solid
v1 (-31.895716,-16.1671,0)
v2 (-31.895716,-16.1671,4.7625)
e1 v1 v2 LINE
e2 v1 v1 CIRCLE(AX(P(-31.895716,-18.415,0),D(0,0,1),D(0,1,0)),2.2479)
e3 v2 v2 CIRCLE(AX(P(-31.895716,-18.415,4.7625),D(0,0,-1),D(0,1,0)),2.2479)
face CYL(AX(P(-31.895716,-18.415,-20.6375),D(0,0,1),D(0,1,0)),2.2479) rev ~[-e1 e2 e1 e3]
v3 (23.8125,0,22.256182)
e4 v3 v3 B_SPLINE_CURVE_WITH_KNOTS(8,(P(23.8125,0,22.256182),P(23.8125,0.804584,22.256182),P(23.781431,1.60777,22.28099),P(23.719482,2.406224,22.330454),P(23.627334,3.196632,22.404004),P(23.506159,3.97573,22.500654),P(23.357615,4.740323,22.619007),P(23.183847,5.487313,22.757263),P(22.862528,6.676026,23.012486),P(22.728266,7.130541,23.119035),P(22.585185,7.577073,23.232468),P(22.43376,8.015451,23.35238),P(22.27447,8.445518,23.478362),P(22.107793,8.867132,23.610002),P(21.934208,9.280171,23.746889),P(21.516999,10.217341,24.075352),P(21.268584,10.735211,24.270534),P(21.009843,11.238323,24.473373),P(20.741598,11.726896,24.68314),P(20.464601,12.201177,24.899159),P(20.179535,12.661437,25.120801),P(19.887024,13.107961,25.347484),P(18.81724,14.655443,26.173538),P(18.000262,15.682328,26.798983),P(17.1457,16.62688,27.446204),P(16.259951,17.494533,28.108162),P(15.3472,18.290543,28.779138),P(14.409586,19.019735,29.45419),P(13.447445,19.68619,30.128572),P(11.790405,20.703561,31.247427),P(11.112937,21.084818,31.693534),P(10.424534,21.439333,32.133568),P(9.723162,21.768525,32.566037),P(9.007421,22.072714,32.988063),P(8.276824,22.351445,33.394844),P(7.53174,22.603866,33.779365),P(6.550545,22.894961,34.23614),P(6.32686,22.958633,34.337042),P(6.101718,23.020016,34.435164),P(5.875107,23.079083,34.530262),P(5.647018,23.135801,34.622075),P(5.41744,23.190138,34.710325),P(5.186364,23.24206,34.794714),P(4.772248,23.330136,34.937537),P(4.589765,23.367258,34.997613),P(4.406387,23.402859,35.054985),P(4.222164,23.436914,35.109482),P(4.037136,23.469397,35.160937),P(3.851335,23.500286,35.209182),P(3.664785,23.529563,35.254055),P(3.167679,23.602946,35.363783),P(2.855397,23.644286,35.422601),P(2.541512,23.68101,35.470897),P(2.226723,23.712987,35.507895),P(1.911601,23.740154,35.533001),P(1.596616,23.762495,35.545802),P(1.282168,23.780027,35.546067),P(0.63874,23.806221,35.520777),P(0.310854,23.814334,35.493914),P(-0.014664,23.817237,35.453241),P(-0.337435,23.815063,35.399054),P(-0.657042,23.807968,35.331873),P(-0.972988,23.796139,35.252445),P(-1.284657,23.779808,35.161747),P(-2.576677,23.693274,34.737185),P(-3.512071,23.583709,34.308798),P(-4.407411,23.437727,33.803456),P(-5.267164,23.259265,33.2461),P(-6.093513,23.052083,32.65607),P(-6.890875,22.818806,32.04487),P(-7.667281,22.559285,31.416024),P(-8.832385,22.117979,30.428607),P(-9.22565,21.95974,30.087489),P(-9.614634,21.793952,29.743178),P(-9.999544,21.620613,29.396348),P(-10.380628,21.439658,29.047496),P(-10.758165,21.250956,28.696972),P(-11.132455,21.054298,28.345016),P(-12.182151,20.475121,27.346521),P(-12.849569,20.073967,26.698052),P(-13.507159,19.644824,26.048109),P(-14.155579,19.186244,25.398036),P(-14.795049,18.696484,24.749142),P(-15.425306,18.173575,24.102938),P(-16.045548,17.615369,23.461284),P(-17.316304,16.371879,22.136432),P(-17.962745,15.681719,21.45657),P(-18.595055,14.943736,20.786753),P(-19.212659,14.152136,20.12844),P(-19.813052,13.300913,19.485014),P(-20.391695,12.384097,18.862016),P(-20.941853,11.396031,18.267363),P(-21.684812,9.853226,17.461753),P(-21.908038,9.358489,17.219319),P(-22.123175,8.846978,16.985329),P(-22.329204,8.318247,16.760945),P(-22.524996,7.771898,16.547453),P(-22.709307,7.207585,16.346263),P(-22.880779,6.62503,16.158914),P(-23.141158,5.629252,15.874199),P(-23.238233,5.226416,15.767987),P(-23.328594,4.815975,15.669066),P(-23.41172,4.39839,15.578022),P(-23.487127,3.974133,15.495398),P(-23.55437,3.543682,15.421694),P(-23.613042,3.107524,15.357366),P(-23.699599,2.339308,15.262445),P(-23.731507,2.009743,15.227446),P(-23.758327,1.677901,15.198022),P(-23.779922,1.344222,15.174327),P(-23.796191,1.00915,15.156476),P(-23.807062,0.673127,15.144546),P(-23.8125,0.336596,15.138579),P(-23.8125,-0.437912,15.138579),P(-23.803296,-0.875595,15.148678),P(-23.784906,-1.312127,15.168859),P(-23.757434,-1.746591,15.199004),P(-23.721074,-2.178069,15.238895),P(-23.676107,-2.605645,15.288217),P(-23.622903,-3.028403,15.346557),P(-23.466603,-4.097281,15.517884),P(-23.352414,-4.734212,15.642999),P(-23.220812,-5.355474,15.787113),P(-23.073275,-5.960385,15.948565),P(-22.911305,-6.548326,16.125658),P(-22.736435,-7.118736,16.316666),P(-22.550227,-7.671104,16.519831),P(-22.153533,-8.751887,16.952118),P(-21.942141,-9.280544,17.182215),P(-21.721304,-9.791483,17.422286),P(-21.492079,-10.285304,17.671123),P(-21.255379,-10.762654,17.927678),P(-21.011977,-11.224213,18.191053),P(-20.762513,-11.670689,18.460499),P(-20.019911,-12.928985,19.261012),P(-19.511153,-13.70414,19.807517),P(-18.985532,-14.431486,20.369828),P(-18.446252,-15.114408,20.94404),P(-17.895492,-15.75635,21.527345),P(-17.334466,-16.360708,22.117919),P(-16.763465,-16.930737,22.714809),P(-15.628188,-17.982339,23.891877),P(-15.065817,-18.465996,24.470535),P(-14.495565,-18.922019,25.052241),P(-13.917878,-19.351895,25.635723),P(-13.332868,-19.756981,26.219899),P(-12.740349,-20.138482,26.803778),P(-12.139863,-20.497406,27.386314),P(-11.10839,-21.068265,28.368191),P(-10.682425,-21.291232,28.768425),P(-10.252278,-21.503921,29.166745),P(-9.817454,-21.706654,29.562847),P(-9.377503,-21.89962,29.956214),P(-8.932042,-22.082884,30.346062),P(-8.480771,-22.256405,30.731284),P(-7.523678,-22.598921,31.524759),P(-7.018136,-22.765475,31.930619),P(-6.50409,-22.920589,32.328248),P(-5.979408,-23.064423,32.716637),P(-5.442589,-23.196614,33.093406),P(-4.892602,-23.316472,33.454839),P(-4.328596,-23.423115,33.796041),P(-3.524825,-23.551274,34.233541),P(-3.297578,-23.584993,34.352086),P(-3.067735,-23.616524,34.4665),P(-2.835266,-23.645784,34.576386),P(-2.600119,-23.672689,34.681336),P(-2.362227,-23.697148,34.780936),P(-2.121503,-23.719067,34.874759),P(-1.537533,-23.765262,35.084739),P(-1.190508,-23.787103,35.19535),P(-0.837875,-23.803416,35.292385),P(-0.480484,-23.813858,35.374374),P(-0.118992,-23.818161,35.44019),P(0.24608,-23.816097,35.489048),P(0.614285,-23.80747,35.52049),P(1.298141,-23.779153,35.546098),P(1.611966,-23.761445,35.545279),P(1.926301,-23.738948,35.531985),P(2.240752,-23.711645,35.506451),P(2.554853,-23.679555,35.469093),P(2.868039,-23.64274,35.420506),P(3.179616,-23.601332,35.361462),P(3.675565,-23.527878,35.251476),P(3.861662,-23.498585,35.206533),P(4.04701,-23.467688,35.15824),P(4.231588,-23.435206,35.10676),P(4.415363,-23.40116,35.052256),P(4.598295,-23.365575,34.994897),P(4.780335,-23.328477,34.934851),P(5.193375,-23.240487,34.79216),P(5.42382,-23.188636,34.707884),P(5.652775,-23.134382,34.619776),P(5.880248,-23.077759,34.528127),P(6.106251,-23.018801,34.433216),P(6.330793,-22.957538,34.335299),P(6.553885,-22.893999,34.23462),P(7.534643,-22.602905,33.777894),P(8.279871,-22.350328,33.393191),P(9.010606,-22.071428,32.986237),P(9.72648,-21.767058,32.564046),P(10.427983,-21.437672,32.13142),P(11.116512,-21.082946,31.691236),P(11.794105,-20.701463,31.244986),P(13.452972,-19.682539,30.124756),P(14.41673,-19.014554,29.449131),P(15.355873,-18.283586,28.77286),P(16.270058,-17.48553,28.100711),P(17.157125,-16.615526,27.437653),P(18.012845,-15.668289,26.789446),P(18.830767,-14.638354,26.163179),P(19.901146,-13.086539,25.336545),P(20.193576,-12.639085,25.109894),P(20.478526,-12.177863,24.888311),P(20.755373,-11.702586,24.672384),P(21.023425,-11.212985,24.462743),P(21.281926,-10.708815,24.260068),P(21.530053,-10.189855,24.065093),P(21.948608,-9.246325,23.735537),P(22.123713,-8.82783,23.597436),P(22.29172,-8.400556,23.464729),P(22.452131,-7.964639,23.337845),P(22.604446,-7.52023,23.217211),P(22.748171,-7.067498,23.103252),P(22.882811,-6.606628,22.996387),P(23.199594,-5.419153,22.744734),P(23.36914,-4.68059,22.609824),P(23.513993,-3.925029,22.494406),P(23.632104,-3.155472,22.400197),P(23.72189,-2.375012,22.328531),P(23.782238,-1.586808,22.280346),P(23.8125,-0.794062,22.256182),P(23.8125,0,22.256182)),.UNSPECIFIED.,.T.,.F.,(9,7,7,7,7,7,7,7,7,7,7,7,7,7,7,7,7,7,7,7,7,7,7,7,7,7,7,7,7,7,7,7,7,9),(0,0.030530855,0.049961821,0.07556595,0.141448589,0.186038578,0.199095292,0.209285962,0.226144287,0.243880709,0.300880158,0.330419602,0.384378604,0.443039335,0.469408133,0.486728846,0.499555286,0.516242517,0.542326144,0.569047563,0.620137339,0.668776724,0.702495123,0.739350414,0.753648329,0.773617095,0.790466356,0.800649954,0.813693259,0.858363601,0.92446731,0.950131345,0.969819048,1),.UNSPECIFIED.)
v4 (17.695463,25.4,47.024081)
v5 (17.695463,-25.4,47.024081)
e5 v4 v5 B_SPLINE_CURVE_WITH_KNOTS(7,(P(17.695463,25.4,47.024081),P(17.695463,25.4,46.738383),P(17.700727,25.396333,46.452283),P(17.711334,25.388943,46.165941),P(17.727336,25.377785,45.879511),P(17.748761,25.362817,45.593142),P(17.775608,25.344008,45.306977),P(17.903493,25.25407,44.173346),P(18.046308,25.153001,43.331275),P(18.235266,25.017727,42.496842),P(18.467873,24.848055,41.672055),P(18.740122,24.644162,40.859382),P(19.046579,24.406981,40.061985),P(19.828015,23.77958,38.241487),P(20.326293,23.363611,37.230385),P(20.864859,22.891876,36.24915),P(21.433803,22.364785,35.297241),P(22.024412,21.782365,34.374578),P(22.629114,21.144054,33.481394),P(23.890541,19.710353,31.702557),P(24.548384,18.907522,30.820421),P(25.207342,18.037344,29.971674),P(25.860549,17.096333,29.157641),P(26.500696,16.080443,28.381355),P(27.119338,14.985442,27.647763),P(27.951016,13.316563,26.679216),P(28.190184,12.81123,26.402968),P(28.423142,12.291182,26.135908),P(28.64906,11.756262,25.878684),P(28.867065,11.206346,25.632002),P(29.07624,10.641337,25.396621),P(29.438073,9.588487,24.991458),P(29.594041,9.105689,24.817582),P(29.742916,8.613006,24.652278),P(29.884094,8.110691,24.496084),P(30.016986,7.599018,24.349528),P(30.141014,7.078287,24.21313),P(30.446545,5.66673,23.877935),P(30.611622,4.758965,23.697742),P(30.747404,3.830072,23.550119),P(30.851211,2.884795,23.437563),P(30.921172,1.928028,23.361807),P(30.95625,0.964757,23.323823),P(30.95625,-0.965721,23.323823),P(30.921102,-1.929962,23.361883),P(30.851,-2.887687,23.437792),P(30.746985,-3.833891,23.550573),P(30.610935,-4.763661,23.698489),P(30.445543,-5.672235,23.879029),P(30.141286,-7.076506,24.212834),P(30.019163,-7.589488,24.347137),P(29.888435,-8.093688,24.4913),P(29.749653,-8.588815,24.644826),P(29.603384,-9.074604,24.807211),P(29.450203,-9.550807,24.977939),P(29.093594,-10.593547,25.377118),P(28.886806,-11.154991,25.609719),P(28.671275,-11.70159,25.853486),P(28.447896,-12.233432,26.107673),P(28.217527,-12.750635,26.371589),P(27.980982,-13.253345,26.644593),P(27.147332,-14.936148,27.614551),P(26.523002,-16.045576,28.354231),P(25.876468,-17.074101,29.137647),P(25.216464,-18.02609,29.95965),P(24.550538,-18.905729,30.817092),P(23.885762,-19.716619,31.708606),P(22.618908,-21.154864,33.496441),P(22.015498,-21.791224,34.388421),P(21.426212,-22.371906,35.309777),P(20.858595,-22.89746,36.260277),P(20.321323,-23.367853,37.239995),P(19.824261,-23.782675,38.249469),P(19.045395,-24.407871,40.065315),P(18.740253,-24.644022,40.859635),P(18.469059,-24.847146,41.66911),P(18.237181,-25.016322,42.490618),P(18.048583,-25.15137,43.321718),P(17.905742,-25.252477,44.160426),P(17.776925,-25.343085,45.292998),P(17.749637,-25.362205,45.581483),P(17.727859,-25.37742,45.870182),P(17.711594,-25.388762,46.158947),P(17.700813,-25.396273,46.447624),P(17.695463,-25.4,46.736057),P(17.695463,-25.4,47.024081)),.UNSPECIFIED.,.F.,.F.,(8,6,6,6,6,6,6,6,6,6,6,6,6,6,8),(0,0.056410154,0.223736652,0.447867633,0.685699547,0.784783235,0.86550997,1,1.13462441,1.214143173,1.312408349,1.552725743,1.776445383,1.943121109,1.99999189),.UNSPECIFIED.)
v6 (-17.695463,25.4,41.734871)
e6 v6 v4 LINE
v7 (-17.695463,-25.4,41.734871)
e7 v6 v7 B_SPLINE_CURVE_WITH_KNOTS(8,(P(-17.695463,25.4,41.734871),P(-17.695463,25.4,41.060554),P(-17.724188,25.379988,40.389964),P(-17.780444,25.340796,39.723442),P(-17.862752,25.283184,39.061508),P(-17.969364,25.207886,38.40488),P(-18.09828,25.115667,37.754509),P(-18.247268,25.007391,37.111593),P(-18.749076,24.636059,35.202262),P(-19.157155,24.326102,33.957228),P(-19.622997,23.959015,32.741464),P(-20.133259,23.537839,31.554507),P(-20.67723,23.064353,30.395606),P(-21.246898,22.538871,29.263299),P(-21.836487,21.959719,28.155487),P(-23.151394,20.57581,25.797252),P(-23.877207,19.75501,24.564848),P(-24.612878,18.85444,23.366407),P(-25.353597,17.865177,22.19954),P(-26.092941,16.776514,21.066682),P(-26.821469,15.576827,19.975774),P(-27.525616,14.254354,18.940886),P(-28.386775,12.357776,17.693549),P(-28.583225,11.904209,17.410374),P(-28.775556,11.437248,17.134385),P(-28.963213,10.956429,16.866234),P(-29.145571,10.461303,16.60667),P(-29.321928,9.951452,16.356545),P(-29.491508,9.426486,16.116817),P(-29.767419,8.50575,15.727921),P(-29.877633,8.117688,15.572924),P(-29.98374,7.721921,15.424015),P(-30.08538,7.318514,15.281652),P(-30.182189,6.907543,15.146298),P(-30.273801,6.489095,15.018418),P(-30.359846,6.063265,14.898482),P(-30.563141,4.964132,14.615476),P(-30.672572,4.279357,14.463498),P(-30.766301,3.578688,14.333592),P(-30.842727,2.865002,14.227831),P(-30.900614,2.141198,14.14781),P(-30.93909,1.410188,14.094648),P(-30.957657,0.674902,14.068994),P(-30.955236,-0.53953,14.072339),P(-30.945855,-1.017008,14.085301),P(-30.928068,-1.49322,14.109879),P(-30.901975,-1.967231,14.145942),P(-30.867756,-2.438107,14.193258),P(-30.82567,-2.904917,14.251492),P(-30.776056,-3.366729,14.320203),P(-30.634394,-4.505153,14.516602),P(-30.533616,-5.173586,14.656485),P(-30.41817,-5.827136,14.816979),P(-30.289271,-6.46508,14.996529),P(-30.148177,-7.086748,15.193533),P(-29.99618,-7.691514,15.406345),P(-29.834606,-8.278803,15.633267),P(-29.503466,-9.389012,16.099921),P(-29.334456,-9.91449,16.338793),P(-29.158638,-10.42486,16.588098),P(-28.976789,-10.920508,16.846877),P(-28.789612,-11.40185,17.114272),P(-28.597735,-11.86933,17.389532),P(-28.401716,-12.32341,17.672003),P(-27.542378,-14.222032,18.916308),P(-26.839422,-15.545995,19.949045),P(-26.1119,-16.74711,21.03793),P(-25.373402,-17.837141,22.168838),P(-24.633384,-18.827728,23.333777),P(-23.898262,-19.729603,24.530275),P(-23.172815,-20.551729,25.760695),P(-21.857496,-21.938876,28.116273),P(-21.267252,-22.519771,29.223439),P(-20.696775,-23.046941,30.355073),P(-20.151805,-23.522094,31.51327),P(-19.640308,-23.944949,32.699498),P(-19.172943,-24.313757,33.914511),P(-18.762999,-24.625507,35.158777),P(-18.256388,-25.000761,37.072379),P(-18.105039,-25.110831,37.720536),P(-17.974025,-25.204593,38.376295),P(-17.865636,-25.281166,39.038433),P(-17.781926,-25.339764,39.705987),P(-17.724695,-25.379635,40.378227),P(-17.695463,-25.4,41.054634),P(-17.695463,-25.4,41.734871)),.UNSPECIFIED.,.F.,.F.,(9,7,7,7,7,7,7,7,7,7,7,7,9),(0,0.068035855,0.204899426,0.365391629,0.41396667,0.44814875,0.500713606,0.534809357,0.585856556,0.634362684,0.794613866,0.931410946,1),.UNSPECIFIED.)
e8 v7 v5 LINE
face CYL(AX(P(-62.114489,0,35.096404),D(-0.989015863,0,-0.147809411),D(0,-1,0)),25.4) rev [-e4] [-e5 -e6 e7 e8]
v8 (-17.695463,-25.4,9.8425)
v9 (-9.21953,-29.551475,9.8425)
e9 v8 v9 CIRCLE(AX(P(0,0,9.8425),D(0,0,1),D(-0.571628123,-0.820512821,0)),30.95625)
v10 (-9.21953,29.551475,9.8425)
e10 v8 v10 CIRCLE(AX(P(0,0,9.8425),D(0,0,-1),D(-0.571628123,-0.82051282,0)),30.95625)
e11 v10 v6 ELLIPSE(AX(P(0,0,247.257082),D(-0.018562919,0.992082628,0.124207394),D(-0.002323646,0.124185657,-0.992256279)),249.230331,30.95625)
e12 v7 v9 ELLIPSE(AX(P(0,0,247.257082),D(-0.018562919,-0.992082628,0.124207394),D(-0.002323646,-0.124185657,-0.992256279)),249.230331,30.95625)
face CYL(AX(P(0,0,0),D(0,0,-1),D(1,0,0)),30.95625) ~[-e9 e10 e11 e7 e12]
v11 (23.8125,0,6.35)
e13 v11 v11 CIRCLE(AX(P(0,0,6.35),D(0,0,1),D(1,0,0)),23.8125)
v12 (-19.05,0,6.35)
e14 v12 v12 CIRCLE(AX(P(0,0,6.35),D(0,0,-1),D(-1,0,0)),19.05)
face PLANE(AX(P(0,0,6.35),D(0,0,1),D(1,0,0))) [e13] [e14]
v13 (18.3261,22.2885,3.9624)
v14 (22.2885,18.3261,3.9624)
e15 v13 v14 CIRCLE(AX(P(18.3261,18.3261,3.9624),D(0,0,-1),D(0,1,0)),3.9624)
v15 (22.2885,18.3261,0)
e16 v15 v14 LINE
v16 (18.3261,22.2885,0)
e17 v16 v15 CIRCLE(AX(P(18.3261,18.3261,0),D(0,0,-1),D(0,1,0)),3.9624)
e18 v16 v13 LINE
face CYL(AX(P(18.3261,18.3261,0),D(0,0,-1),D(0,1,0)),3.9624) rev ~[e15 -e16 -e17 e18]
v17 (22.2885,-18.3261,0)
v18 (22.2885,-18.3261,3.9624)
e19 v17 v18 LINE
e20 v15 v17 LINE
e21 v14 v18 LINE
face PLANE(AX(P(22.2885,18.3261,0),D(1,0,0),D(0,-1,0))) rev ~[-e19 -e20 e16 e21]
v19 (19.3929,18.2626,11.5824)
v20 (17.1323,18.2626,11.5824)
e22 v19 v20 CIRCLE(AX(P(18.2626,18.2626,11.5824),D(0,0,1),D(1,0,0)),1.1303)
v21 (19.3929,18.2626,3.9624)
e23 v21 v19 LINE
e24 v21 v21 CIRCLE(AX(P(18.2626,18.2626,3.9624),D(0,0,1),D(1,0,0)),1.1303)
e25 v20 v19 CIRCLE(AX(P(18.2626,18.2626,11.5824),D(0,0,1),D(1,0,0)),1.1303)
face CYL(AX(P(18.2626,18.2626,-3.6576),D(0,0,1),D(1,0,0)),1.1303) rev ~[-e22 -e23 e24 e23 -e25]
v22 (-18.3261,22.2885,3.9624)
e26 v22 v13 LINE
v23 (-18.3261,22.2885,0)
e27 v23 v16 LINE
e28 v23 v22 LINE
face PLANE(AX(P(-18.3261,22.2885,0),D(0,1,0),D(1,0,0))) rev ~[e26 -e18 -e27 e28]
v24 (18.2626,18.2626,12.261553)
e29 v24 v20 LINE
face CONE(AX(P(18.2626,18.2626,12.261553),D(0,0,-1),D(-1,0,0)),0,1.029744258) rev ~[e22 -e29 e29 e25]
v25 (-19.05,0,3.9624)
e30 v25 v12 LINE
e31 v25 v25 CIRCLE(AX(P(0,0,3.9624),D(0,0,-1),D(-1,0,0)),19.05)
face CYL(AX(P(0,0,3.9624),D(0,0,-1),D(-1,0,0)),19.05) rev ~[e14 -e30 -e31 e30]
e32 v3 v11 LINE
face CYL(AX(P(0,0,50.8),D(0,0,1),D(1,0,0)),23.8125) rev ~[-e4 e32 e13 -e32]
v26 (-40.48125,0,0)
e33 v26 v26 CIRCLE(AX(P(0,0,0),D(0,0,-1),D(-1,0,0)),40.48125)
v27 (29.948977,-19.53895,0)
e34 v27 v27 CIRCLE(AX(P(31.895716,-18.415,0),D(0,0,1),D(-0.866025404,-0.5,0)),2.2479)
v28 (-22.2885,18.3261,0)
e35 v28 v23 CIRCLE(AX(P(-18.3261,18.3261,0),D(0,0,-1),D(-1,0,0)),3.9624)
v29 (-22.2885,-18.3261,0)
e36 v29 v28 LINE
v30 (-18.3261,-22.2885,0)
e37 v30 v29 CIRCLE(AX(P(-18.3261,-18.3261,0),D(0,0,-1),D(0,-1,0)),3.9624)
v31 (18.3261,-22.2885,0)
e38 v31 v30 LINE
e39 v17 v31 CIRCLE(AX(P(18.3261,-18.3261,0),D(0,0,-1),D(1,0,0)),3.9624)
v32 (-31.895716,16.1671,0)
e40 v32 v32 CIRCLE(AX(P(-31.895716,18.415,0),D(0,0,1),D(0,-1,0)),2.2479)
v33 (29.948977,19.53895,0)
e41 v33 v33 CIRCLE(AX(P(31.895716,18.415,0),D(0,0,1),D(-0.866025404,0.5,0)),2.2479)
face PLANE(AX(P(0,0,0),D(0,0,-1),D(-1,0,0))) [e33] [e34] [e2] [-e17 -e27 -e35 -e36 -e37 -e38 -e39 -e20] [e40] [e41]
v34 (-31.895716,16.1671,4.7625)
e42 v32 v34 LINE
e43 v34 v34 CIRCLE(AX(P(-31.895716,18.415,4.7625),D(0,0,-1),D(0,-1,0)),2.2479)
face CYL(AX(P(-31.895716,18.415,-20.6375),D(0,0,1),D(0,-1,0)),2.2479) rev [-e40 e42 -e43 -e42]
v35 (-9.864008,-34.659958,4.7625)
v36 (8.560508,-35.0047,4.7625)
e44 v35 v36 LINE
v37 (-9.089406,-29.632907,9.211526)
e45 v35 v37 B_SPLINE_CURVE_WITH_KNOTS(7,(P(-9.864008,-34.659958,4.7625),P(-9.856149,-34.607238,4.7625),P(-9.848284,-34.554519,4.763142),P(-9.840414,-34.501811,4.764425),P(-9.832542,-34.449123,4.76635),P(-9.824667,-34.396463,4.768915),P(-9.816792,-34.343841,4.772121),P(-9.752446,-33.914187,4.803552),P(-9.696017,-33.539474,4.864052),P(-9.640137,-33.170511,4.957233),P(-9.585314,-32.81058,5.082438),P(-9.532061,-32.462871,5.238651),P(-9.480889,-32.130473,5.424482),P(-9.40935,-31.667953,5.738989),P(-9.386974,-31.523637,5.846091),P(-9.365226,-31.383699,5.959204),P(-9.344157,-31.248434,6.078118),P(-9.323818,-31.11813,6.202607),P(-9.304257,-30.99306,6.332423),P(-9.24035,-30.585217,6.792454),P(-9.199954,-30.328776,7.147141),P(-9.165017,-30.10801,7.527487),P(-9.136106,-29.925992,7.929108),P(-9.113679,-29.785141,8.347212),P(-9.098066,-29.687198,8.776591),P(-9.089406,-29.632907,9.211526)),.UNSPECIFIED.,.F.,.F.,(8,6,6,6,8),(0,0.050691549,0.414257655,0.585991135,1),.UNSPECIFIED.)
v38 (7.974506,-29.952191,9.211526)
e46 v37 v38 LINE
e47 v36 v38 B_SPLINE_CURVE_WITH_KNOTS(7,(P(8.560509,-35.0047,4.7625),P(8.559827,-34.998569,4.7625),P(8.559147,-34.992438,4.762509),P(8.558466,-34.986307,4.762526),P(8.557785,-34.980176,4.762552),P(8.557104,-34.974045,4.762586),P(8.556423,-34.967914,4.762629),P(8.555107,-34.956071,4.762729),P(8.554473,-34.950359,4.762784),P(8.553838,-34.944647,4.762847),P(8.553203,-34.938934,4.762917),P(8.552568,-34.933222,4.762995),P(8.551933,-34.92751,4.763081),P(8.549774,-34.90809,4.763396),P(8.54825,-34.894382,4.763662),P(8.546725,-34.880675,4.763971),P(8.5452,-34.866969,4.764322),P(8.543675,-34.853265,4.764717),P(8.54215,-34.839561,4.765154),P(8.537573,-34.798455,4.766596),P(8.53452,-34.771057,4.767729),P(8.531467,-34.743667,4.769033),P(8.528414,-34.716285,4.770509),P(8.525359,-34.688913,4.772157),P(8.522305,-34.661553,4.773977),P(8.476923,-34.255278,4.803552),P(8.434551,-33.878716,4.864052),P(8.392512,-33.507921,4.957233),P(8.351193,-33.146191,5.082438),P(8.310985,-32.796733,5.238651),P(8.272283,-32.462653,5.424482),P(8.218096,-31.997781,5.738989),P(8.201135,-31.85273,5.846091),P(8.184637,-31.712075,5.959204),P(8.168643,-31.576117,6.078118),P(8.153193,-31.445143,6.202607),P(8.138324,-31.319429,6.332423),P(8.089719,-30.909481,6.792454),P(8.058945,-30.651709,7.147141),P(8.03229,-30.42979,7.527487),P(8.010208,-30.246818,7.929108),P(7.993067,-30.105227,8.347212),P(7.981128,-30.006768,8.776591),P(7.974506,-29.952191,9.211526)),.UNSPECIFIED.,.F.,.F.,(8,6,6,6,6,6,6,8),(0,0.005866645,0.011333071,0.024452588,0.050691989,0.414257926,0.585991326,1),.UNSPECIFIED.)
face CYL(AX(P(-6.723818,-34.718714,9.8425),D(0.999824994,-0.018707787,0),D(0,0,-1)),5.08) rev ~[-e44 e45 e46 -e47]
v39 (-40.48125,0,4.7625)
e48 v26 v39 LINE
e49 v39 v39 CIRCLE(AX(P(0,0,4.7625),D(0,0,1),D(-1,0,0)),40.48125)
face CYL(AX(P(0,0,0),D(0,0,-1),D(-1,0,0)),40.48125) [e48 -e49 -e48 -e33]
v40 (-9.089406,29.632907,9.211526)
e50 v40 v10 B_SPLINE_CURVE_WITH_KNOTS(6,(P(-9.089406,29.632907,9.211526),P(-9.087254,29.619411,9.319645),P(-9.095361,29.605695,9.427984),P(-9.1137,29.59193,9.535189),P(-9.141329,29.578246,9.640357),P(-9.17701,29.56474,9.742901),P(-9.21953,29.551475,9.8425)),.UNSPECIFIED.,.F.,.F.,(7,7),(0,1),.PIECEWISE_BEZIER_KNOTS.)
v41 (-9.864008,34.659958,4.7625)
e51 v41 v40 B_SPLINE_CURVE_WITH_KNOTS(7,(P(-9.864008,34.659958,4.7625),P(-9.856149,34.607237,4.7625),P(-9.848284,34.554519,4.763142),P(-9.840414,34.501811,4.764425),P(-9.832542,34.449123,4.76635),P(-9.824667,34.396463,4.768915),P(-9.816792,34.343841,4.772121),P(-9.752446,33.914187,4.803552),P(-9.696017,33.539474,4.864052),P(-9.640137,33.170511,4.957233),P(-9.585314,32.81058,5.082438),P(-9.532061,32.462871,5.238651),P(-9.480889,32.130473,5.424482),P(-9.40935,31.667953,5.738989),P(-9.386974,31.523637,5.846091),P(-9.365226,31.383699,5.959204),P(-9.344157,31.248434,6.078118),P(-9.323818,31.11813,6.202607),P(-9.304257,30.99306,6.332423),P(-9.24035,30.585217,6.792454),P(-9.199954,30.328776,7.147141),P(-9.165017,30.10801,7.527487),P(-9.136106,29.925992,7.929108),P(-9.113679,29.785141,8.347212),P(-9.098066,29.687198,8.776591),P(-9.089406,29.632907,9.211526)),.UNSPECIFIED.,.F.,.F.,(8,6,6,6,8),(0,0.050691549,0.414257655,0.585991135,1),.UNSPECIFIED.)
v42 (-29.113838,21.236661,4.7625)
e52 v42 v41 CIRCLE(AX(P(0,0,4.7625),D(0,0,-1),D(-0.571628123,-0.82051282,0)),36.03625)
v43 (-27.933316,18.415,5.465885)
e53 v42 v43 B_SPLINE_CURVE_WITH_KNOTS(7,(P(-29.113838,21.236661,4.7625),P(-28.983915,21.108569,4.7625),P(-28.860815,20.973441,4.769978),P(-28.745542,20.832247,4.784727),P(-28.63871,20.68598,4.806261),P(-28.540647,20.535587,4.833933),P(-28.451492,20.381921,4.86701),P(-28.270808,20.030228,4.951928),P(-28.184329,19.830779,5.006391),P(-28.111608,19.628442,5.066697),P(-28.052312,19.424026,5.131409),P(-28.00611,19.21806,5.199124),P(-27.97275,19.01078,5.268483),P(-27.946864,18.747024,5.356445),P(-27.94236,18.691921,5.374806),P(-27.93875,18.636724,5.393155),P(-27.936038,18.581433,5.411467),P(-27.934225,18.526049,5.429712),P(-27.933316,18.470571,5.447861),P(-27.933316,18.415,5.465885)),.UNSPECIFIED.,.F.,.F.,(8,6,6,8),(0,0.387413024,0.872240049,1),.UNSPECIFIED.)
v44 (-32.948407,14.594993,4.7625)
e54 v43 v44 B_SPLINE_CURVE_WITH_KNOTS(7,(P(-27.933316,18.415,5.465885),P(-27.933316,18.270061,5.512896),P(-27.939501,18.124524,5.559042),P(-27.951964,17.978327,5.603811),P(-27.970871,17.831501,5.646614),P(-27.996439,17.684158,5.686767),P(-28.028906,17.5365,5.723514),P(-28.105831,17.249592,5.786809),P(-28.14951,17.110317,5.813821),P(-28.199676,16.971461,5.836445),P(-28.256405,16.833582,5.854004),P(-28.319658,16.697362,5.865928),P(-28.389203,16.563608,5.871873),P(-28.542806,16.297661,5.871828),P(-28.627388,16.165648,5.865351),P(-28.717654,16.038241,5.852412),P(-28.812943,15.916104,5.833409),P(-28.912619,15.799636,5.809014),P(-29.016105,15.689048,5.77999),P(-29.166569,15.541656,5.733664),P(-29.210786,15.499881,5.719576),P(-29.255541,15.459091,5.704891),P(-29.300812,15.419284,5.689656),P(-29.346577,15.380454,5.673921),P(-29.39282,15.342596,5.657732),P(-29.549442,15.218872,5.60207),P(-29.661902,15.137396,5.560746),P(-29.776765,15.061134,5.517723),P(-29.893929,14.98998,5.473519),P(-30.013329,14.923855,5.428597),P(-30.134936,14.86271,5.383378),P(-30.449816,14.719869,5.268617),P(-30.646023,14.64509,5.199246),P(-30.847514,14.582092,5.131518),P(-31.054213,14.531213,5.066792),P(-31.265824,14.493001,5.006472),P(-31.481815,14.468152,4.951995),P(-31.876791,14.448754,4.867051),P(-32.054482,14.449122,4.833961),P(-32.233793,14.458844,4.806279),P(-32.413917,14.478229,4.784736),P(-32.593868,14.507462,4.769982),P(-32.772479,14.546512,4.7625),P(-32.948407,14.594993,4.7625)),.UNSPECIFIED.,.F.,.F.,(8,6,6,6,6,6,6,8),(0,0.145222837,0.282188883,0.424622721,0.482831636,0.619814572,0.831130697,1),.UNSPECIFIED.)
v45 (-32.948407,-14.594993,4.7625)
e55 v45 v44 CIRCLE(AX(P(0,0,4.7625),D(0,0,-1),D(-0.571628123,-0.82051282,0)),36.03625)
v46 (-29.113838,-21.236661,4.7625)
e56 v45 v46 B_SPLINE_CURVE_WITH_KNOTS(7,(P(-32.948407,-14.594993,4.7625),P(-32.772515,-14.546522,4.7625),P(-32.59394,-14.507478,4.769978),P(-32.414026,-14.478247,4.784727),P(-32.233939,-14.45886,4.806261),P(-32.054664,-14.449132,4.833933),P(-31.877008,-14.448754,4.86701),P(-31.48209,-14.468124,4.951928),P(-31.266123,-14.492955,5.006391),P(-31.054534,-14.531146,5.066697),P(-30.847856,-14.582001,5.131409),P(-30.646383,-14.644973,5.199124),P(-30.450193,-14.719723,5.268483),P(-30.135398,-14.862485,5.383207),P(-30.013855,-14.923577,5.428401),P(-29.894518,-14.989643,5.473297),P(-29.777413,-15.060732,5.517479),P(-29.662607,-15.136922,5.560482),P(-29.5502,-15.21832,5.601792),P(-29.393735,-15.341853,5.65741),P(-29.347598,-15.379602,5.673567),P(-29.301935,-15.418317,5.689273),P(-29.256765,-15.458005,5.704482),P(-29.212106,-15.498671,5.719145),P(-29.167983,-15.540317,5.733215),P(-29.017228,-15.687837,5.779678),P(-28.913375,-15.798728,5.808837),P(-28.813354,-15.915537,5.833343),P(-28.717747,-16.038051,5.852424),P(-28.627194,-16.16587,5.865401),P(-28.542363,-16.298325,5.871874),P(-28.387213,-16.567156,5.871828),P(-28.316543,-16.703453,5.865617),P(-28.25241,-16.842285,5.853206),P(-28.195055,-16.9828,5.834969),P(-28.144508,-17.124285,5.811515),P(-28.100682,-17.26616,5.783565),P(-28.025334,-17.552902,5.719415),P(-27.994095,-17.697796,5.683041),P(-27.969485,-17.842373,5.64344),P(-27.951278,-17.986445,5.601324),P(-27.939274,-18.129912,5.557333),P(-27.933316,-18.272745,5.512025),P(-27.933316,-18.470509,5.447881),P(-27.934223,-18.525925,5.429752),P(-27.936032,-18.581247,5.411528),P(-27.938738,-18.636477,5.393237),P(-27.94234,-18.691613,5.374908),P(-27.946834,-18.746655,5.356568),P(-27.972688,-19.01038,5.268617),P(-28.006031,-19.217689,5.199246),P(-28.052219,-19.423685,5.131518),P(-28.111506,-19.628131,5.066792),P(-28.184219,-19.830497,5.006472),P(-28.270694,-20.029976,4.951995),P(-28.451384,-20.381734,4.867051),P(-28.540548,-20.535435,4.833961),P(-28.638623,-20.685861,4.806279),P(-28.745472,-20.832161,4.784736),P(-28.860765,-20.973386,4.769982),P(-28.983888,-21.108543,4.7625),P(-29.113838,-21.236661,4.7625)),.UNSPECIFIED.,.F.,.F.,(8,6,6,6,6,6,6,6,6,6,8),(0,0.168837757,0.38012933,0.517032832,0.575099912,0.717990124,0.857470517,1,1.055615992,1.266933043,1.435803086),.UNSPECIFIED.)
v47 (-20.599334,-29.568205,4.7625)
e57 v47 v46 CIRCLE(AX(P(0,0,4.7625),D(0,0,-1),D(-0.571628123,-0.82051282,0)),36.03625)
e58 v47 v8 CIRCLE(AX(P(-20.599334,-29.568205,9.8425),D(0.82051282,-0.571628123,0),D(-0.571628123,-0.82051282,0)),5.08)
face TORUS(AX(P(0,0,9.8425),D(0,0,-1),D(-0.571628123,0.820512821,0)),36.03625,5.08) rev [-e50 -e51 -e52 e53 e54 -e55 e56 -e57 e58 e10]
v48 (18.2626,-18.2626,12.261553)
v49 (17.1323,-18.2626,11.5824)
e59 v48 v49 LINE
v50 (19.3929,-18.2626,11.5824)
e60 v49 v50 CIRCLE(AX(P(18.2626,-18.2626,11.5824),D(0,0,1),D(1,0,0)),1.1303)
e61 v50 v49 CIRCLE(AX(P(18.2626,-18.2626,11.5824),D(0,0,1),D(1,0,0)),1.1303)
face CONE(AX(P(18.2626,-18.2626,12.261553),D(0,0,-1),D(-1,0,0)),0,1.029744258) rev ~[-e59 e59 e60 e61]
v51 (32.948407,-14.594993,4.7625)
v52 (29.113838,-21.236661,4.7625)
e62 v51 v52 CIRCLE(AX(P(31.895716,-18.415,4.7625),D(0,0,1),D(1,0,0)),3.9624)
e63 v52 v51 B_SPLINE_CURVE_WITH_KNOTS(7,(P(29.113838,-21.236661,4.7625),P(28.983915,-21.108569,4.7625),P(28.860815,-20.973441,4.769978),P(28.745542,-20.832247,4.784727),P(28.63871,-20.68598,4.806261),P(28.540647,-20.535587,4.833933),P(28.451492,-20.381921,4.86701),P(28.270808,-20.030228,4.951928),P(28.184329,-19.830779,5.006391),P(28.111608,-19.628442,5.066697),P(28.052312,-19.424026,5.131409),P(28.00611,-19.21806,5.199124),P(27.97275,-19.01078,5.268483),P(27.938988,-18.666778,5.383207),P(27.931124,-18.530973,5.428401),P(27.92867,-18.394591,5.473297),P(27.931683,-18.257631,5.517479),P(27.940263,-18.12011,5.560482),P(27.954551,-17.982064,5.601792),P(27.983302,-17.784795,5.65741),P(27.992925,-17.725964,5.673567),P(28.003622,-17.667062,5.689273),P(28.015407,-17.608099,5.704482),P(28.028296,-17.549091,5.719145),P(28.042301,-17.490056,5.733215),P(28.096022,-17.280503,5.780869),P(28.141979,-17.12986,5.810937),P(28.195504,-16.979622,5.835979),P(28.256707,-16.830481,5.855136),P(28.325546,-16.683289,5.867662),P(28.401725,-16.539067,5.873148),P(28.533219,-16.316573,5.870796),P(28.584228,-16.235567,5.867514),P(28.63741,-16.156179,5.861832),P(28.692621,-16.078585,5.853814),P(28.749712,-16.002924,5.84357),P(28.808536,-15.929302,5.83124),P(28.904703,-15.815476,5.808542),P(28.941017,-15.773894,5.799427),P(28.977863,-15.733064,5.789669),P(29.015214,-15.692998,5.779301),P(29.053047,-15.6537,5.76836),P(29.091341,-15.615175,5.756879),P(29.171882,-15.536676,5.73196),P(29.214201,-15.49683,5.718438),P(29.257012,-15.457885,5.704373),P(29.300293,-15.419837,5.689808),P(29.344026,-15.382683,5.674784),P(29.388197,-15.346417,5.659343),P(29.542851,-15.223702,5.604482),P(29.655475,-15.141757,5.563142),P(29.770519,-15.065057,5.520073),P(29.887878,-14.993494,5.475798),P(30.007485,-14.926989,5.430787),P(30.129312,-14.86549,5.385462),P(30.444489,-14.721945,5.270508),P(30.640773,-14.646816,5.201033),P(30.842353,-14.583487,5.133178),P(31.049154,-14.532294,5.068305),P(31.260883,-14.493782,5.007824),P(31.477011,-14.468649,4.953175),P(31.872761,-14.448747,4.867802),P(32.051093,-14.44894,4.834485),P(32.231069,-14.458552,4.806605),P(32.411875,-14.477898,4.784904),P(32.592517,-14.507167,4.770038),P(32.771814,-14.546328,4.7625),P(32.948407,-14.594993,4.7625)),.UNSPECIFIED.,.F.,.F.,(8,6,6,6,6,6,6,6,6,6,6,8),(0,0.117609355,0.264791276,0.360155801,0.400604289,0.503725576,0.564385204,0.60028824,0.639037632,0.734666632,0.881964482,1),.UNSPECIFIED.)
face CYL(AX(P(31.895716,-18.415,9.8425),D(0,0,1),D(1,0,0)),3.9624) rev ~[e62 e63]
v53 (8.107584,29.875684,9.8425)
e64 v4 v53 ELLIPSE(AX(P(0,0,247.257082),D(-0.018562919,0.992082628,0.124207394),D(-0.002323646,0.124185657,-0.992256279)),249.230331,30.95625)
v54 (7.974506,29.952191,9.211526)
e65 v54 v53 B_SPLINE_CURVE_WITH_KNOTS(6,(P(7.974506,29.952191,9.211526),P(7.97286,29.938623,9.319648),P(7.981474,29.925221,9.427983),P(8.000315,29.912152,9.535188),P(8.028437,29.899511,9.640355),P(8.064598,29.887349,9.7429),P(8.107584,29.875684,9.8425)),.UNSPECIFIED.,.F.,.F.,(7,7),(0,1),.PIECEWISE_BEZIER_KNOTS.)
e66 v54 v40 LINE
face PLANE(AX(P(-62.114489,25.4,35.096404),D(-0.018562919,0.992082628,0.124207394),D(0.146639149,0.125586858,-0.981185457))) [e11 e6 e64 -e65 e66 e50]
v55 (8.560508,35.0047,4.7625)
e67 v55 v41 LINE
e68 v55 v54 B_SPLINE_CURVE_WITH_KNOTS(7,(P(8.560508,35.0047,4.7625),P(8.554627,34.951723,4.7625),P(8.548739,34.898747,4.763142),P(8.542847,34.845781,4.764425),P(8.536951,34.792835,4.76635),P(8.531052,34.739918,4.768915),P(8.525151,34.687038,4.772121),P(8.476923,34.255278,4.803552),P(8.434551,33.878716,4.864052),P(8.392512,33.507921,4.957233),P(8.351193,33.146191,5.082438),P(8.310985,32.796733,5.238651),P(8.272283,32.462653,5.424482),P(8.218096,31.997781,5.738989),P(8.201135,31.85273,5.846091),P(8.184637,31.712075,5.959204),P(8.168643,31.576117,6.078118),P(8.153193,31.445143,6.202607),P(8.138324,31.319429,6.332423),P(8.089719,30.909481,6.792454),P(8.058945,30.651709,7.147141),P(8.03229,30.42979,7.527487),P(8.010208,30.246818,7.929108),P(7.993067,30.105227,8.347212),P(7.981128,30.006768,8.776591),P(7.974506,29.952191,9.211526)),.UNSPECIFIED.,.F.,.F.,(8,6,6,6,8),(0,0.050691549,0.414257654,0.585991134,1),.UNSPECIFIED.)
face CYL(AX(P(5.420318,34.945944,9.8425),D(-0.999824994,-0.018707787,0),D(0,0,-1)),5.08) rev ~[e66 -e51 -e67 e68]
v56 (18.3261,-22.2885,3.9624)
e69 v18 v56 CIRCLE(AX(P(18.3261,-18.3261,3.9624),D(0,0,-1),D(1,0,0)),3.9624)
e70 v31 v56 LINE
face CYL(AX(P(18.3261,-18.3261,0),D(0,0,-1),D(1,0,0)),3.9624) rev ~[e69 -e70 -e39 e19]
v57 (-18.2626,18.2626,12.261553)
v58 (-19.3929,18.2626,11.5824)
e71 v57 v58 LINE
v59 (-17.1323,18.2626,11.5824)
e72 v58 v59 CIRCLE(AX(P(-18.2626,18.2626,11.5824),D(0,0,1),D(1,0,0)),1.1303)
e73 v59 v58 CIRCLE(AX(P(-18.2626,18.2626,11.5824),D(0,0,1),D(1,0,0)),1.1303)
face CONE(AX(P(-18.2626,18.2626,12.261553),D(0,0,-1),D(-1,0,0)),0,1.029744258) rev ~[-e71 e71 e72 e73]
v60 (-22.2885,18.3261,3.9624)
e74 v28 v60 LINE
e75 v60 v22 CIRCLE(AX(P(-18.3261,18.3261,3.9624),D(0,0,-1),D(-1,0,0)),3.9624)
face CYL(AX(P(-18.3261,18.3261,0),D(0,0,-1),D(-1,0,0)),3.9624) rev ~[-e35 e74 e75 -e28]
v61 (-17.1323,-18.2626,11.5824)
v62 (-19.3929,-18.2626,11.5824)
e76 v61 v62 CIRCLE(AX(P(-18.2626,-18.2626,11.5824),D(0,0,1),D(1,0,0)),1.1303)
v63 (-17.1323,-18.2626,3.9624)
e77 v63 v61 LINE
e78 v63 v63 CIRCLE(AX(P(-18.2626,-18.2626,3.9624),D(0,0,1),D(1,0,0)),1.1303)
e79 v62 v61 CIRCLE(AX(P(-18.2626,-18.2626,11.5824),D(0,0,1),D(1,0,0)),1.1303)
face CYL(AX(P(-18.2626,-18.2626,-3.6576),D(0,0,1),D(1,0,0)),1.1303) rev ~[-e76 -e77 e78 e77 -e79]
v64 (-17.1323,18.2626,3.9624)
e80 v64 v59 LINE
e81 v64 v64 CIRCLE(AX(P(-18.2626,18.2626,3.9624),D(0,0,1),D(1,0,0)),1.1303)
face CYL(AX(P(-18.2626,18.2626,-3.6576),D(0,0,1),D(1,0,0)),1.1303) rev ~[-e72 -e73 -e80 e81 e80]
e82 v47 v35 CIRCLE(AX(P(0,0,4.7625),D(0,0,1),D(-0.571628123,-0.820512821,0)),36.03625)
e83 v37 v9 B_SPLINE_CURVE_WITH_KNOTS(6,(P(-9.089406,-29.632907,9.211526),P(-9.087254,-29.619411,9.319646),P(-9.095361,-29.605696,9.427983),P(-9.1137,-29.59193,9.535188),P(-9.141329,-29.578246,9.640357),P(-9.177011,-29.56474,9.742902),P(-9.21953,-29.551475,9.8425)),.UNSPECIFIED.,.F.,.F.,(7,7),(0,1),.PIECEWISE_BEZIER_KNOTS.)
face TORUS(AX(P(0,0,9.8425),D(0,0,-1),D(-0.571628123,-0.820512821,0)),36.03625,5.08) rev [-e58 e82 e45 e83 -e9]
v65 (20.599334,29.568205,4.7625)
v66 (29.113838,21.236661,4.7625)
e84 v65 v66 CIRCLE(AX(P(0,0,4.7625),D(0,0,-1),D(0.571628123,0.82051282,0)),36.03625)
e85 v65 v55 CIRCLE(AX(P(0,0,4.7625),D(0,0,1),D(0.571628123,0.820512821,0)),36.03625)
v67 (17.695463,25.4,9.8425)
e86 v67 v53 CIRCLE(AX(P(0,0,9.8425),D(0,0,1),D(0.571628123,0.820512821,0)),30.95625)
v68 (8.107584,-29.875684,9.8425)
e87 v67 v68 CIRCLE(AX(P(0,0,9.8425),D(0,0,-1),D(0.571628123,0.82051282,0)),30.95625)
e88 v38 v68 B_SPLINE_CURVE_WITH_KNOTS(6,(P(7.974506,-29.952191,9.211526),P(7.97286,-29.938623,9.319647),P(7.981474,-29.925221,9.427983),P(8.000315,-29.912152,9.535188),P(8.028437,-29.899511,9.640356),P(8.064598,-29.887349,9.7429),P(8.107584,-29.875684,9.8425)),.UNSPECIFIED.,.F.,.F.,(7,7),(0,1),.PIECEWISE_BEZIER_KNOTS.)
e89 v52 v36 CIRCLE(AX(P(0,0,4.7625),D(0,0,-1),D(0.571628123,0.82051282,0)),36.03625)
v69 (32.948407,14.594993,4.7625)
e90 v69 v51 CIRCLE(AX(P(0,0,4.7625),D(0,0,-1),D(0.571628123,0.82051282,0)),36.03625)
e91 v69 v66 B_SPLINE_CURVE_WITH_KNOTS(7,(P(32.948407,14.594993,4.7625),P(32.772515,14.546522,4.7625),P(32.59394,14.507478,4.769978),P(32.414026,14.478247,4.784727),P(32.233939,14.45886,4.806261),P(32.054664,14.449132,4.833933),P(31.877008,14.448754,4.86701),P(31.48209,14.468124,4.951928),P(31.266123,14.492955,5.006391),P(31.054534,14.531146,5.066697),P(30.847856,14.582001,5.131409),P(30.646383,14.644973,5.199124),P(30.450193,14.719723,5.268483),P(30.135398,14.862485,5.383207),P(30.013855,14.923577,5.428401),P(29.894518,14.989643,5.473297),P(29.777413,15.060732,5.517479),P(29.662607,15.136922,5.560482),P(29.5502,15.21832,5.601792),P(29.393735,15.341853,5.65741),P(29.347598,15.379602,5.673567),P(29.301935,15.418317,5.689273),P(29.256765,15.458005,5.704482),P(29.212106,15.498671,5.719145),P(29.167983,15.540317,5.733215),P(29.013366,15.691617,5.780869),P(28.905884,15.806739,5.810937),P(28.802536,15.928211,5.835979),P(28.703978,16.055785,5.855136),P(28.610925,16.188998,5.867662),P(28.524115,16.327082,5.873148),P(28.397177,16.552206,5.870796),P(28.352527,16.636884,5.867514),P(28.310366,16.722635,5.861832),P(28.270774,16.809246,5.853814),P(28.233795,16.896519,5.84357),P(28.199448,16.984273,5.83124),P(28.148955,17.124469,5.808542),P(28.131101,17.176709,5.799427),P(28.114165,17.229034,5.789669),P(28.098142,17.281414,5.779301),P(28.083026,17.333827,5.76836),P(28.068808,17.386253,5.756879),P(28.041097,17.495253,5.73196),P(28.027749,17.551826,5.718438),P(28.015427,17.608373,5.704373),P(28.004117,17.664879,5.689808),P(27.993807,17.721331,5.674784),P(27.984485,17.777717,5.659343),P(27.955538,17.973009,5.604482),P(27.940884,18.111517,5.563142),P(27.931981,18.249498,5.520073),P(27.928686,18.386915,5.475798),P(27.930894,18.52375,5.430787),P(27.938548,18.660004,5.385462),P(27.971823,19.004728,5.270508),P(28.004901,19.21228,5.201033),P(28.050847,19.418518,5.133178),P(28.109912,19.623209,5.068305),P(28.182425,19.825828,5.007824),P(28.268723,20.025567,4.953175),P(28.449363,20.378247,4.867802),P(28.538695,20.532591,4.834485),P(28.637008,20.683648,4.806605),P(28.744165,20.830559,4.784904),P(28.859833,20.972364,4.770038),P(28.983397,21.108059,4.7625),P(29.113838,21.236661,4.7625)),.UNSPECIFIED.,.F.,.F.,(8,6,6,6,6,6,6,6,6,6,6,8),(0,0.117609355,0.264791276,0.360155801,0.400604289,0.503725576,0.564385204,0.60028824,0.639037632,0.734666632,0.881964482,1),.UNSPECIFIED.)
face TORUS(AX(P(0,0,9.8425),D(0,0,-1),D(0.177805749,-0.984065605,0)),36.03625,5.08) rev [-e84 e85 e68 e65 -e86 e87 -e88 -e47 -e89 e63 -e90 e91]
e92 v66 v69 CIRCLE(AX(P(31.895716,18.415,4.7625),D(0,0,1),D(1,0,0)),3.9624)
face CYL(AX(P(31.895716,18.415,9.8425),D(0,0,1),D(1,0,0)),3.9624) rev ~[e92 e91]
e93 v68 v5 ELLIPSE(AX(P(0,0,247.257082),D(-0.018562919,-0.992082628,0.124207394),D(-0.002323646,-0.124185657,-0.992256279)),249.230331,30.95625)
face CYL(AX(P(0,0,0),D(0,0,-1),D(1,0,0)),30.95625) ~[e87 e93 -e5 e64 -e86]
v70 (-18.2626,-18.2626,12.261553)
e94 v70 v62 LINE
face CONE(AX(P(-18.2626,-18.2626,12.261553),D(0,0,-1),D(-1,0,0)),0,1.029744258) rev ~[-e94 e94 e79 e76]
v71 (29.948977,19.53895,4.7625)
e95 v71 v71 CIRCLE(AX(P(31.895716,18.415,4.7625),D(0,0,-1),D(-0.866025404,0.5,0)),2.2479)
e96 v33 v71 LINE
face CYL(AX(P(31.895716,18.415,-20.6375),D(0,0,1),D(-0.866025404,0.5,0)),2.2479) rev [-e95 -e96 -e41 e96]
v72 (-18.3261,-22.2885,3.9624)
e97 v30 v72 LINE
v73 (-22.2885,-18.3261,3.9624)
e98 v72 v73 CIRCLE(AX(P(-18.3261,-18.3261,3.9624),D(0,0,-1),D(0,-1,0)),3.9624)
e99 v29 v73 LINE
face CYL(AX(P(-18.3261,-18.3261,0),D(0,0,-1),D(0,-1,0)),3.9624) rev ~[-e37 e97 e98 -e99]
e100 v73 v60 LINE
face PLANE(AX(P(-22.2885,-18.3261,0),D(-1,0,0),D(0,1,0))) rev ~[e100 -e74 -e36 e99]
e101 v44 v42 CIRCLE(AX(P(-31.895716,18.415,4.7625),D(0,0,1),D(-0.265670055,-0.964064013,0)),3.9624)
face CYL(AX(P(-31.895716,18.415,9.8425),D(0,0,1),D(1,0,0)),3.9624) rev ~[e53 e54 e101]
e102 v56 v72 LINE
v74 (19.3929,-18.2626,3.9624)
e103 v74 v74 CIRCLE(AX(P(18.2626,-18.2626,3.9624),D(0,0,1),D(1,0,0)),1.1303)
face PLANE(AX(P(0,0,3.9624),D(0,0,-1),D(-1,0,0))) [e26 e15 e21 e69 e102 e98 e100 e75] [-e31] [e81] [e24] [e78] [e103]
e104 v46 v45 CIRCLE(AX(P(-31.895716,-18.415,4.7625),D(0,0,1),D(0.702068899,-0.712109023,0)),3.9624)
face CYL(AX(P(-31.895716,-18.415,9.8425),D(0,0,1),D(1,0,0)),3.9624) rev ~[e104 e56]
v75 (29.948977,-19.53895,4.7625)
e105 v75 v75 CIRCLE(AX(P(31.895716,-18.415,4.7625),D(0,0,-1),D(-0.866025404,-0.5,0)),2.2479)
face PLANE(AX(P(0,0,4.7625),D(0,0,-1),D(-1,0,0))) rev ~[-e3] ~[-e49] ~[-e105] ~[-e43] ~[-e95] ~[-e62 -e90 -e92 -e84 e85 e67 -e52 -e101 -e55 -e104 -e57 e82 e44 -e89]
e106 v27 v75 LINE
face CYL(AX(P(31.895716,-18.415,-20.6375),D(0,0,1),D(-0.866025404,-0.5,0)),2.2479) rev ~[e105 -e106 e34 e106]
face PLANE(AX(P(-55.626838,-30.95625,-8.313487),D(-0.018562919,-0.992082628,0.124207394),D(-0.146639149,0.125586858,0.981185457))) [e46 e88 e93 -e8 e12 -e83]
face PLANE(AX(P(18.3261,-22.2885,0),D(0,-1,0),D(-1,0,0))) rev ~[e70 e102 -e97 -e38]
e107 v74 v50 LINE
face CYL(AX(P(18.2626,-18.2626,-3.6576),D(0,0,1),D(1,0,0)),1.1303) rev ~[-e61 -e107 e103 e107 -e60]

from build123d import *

# Parameters (mm, degrees)
SKETCH1_R                 = 30.95625
BOSS_EXTRUDE1_DEPTH       = 50.8
CUT_EXTRUDE1_DEPTH        = 3.9624
CUT_EXTRUDE2_DEPTH        = 86.860858779
CUT_EXTRUDE2_DEPTH_BACK   = 86.860858779
SKETCH4_R                 = 19.05
CUT_EXTRUDE3_DEPTH        = 62.40755008
SKETCH6_R                 = 23.8125
CUT_EXTRUDE4_DEPTH        = 44.45
F_4_40_TAPPED_HOLE1_D     = 2.2606
F_4_40_TAPPED_HOLE1_DEPTH = 7.62
F_4_40_TAPPED_HOLE1_TIP   = 0.679152758
SKETCH10_R                = 40.48125
BOSS_EXTRUDE3_DEPTH       = 4.7625
FILLET1_R                 = 5.08
CIRPATTERN1_COUNT         = 2
CIRPATTERN1_ANGLE         = 120
SKETCH15_R                = 3.9624
CUT_EXTRUDE5_DEPTH        = 5.08


with BuildPart() as part:
    # Sketch1 → Boss-Extrude1 (new body)
    with BuildSketch(Plane.XY):
        Circle(SKETCH1_R)
    extrude(amount=BOSS_EXTRUDE1_DEPTH)

    # Sketch2 → Cut-Extrude1 (cut)
    with BuildSketch(Plane(origin=(0, 0, 0), x_dir=(-1, 0, 0), z_dir=(0, 0, -1))):
        with BuildLine():
            Line((-18.3261, -22.2885), (18.3261, -22.2885))
            ThreePointArc((18.3261, -22.2885), (21.12793991, -21.12793991), (22.2885, -18.3261))
            Line((22.2885, -18.3261), (22.2885, 18.3261))
            ThreePointArc((22.2885, 18.3261), (21.12793991, 21.12793991), (18.3261, 22.2885))
            Line((18.3261, 22.2885), (-18.3261, 22.2885))
            ThreePointArc((-18.3261, 22.2885), (-21.12793991, 21.12793991), (-22.2885, 18.3261))
            Line((-22.2885, 18.3261), (-22.2885, -18.3261))
            ThreePointArc((-22.2885, -18.3261), (-21.12793991, -21.12793991), (-18.3261, -22.2885))
        make_face()
    extrude(amount=-CUT_EXTRUDE1_DEPTH, mode=Mode.SUBTRACT)

    # Sketch3 → Cut-Extrude2 (cut, two sides: drawn at the far end of the back side and taken through both)
    with BuildSketch(Plane(origin=(30.95625, 0, 0), x_dir=(0.14780941112961093, 0, -0.9890158633619168), z_dir=(0.9890158633619168, 0, 0.14780941112961093)).offset(-CUT_EXTRUDE2_DEPTH_BACK)):
        with BuildLine():
            Line((-48.467631025, 25.4), (-4.575625083, 30.95625))
            Line((-4.575625083, 30.95625), (-67.517631025, 30.95625))
            Line((-67.517631025, 30.95625), (-67.517631025, -30.95625))
            Line((-67.517631025, -30.95625), (-4.575625083, -30.95625))
            Line((-4.575625083, -30.95625), (-48.467631025, -25.4))
            ThreePointArc((-48.467631025, -25.4), (-23.067631025, 0), (-48.467631025, 25.4))
        make_face()
    extrude(amount=CUT_EXTRUDE2_DEPTH + CUT_EXTRUDE2_DEPTH_BACK, mode=Mode.SUBTRACT)

    # Sketch4 → Cut-Extrude3 (cut, through all)
    with BuildSketch(Plane(origin=(0, 0, 3.9624), x_dir=(-1, 0, 0), z_dir=(0, 0, -1))):
        Circle(SKETCH4_R)
    extrude(amount=-CUT_EXTRUDE3_DEPTH, mode=Mode.SUBTRACT)

    # Sketch6 → Cut-Extrude4 (cut)
    with BuildSketch(Plane.XY.offset(50.8)):
        Circle(SKETCH6_R)
    extrude(amount=-CUT_EXTRUDE4_DEPTH, mode=Mode.SUBTRACT)

    # #4-40 Tapped Hole1
    with Locations(Plane(origin=(0, 0, 3.9624), x_dir=(-1, 0, 0), z_dir=(0, 0, -1))):
        with Locations((-18.2626, 18.2626), (18.2626, 18.2626), (18.2626, -18.2626), (-18.2626, -18.2626)):
            Hole(F_4_40_TAPPED_HOLE1_D / 2, depth=F_4_40_TAPPED_HOLE1_DEPTH)
            with Locations((0, 0, -(F_4_40_TAPPED_HOLE1_DEPTH + F_4_40_TAPPED_HOLE1_TIP / 2))):  # 118° drill point
                Cone(0, F_4_40_TAPPED_HOLE1_D / 2, F_4_40_TAPPED_HOLE1_TIP, mode=Mode.SUBTRACT)

    # Sketch10 → Boss-Extrude3 (add)
    with BuildSketch(Plane(origin=(0, 0, 0), x_dir=(-1, 0, 0), z_dir=(0, 0, -1))):
        Circle(SKETCH10_R)
        with BuildLine():
            Line((-17.695463093, 25.4), (17.695463093, 25.4))
            ThreePointArc((17.695463093, 25.4), (30.95625, 0), (17.695463093, -25.4))
            Line((17.695463093, -25.4), (-17.695463093, -25.4))
            ThreePointArc((-17.695463093, -25.4), (-30.95625, 0), (-17.695463093, 25.4))
        make_face(mode=Mode.SUBTRACT)
    extrude(amount=-BOSS_EXTRUDE3_DEPTH)

    # Fillet1
    fillet1_edges = [part.edges().sort_by_distance(p)[0] for p in [
        (30.95625, 0, 4.7625),
        (-30.95625, 0, 4.7625),
        (-0.567868867, -30.349366054, 4.7625),
        (-0.567868867, 30.349366054, 4.7625),
    ]]
    fillet(fillet1_edges, radius=FILLET1_R)

    # Sketch13 → #8 Clearance Hole1 (revolve, cut)
    with BuildSketch(Plane(origin=(-31.895715621, 18.415, 4.7625), x_dir=(0, -1, 0), z_dir=(1, 0, 0))):
        Polygon((0, 0), (0, 26.750674586), (2.2479, 25.4), (2.2479, 0), align=None)
    f_8_clearance_hole1 = revolve(axis=Axis((-31.895715621, 18.415, 11.1125), (0, 0, -1)), mode=Mode.SUBTRACT)

    # CirPattern1: #8 Clearance Hole1 ×2 about axis
    cirpattern1_axis = Axis((0, 0, 4.7625), (0, 0, -1))
    for i in range(1, CIRPATTERN1_COUNT):
        add(f_8_clearance_hole1.rotate(cirpattern1_axis, i * CIRPATTERN1_ANGLE / (CIRPATTERN1_COUNT - 1)), mode=Mode.SUBTRACT)

    # Mirror1: #8 Clearance Hole1 across plane
    add(f_8_clearance_hole1.mirror(Plane.ZX), mode=Mode.SUBTRACT)

    # Mirror1 copy 1 sketch → Mirror1 copy 1 (revolve, cut)
    with BuildSketch(Plane(origin=(31.895715621, -18.415, 4.7625), x_dir=(-0.866025403784436, -0.5000000000000044, 0), z_dir=(-0.5000000000000044, 0.866025403784436, 0))):
        Polygon((0, 0), (0, -26.750674586), (2.2479, -25.4), (2.2479, 0), align=None)
    revolve(axis=Axis((31.895715621, -18.415, 11.1125), (0, 0, 1)), mode=Mode.SUBTRACT)

    # Sketch15 → Cut-Extrude5 (cut)
    with BuildSketch(Plane.XY.offset(9.8425)):
        with Locations((-31.895715621, 18.415)):
            Circle(SKETCH15_R)
        with Locations((31.895715621, 18.415)):
            Circle(SKETCH15_R)
        with Locations((31.895715621, -18.415)):
            Circle(SKETCH15_R)
        with Locations((-31.895715621, -18.415)):
            Circle(SKETCH15_R)
    extrude(amount=-CUT_EXTRUDE5_DEPTH, mode=Mode.SUBTRACT)


solid = part.part
